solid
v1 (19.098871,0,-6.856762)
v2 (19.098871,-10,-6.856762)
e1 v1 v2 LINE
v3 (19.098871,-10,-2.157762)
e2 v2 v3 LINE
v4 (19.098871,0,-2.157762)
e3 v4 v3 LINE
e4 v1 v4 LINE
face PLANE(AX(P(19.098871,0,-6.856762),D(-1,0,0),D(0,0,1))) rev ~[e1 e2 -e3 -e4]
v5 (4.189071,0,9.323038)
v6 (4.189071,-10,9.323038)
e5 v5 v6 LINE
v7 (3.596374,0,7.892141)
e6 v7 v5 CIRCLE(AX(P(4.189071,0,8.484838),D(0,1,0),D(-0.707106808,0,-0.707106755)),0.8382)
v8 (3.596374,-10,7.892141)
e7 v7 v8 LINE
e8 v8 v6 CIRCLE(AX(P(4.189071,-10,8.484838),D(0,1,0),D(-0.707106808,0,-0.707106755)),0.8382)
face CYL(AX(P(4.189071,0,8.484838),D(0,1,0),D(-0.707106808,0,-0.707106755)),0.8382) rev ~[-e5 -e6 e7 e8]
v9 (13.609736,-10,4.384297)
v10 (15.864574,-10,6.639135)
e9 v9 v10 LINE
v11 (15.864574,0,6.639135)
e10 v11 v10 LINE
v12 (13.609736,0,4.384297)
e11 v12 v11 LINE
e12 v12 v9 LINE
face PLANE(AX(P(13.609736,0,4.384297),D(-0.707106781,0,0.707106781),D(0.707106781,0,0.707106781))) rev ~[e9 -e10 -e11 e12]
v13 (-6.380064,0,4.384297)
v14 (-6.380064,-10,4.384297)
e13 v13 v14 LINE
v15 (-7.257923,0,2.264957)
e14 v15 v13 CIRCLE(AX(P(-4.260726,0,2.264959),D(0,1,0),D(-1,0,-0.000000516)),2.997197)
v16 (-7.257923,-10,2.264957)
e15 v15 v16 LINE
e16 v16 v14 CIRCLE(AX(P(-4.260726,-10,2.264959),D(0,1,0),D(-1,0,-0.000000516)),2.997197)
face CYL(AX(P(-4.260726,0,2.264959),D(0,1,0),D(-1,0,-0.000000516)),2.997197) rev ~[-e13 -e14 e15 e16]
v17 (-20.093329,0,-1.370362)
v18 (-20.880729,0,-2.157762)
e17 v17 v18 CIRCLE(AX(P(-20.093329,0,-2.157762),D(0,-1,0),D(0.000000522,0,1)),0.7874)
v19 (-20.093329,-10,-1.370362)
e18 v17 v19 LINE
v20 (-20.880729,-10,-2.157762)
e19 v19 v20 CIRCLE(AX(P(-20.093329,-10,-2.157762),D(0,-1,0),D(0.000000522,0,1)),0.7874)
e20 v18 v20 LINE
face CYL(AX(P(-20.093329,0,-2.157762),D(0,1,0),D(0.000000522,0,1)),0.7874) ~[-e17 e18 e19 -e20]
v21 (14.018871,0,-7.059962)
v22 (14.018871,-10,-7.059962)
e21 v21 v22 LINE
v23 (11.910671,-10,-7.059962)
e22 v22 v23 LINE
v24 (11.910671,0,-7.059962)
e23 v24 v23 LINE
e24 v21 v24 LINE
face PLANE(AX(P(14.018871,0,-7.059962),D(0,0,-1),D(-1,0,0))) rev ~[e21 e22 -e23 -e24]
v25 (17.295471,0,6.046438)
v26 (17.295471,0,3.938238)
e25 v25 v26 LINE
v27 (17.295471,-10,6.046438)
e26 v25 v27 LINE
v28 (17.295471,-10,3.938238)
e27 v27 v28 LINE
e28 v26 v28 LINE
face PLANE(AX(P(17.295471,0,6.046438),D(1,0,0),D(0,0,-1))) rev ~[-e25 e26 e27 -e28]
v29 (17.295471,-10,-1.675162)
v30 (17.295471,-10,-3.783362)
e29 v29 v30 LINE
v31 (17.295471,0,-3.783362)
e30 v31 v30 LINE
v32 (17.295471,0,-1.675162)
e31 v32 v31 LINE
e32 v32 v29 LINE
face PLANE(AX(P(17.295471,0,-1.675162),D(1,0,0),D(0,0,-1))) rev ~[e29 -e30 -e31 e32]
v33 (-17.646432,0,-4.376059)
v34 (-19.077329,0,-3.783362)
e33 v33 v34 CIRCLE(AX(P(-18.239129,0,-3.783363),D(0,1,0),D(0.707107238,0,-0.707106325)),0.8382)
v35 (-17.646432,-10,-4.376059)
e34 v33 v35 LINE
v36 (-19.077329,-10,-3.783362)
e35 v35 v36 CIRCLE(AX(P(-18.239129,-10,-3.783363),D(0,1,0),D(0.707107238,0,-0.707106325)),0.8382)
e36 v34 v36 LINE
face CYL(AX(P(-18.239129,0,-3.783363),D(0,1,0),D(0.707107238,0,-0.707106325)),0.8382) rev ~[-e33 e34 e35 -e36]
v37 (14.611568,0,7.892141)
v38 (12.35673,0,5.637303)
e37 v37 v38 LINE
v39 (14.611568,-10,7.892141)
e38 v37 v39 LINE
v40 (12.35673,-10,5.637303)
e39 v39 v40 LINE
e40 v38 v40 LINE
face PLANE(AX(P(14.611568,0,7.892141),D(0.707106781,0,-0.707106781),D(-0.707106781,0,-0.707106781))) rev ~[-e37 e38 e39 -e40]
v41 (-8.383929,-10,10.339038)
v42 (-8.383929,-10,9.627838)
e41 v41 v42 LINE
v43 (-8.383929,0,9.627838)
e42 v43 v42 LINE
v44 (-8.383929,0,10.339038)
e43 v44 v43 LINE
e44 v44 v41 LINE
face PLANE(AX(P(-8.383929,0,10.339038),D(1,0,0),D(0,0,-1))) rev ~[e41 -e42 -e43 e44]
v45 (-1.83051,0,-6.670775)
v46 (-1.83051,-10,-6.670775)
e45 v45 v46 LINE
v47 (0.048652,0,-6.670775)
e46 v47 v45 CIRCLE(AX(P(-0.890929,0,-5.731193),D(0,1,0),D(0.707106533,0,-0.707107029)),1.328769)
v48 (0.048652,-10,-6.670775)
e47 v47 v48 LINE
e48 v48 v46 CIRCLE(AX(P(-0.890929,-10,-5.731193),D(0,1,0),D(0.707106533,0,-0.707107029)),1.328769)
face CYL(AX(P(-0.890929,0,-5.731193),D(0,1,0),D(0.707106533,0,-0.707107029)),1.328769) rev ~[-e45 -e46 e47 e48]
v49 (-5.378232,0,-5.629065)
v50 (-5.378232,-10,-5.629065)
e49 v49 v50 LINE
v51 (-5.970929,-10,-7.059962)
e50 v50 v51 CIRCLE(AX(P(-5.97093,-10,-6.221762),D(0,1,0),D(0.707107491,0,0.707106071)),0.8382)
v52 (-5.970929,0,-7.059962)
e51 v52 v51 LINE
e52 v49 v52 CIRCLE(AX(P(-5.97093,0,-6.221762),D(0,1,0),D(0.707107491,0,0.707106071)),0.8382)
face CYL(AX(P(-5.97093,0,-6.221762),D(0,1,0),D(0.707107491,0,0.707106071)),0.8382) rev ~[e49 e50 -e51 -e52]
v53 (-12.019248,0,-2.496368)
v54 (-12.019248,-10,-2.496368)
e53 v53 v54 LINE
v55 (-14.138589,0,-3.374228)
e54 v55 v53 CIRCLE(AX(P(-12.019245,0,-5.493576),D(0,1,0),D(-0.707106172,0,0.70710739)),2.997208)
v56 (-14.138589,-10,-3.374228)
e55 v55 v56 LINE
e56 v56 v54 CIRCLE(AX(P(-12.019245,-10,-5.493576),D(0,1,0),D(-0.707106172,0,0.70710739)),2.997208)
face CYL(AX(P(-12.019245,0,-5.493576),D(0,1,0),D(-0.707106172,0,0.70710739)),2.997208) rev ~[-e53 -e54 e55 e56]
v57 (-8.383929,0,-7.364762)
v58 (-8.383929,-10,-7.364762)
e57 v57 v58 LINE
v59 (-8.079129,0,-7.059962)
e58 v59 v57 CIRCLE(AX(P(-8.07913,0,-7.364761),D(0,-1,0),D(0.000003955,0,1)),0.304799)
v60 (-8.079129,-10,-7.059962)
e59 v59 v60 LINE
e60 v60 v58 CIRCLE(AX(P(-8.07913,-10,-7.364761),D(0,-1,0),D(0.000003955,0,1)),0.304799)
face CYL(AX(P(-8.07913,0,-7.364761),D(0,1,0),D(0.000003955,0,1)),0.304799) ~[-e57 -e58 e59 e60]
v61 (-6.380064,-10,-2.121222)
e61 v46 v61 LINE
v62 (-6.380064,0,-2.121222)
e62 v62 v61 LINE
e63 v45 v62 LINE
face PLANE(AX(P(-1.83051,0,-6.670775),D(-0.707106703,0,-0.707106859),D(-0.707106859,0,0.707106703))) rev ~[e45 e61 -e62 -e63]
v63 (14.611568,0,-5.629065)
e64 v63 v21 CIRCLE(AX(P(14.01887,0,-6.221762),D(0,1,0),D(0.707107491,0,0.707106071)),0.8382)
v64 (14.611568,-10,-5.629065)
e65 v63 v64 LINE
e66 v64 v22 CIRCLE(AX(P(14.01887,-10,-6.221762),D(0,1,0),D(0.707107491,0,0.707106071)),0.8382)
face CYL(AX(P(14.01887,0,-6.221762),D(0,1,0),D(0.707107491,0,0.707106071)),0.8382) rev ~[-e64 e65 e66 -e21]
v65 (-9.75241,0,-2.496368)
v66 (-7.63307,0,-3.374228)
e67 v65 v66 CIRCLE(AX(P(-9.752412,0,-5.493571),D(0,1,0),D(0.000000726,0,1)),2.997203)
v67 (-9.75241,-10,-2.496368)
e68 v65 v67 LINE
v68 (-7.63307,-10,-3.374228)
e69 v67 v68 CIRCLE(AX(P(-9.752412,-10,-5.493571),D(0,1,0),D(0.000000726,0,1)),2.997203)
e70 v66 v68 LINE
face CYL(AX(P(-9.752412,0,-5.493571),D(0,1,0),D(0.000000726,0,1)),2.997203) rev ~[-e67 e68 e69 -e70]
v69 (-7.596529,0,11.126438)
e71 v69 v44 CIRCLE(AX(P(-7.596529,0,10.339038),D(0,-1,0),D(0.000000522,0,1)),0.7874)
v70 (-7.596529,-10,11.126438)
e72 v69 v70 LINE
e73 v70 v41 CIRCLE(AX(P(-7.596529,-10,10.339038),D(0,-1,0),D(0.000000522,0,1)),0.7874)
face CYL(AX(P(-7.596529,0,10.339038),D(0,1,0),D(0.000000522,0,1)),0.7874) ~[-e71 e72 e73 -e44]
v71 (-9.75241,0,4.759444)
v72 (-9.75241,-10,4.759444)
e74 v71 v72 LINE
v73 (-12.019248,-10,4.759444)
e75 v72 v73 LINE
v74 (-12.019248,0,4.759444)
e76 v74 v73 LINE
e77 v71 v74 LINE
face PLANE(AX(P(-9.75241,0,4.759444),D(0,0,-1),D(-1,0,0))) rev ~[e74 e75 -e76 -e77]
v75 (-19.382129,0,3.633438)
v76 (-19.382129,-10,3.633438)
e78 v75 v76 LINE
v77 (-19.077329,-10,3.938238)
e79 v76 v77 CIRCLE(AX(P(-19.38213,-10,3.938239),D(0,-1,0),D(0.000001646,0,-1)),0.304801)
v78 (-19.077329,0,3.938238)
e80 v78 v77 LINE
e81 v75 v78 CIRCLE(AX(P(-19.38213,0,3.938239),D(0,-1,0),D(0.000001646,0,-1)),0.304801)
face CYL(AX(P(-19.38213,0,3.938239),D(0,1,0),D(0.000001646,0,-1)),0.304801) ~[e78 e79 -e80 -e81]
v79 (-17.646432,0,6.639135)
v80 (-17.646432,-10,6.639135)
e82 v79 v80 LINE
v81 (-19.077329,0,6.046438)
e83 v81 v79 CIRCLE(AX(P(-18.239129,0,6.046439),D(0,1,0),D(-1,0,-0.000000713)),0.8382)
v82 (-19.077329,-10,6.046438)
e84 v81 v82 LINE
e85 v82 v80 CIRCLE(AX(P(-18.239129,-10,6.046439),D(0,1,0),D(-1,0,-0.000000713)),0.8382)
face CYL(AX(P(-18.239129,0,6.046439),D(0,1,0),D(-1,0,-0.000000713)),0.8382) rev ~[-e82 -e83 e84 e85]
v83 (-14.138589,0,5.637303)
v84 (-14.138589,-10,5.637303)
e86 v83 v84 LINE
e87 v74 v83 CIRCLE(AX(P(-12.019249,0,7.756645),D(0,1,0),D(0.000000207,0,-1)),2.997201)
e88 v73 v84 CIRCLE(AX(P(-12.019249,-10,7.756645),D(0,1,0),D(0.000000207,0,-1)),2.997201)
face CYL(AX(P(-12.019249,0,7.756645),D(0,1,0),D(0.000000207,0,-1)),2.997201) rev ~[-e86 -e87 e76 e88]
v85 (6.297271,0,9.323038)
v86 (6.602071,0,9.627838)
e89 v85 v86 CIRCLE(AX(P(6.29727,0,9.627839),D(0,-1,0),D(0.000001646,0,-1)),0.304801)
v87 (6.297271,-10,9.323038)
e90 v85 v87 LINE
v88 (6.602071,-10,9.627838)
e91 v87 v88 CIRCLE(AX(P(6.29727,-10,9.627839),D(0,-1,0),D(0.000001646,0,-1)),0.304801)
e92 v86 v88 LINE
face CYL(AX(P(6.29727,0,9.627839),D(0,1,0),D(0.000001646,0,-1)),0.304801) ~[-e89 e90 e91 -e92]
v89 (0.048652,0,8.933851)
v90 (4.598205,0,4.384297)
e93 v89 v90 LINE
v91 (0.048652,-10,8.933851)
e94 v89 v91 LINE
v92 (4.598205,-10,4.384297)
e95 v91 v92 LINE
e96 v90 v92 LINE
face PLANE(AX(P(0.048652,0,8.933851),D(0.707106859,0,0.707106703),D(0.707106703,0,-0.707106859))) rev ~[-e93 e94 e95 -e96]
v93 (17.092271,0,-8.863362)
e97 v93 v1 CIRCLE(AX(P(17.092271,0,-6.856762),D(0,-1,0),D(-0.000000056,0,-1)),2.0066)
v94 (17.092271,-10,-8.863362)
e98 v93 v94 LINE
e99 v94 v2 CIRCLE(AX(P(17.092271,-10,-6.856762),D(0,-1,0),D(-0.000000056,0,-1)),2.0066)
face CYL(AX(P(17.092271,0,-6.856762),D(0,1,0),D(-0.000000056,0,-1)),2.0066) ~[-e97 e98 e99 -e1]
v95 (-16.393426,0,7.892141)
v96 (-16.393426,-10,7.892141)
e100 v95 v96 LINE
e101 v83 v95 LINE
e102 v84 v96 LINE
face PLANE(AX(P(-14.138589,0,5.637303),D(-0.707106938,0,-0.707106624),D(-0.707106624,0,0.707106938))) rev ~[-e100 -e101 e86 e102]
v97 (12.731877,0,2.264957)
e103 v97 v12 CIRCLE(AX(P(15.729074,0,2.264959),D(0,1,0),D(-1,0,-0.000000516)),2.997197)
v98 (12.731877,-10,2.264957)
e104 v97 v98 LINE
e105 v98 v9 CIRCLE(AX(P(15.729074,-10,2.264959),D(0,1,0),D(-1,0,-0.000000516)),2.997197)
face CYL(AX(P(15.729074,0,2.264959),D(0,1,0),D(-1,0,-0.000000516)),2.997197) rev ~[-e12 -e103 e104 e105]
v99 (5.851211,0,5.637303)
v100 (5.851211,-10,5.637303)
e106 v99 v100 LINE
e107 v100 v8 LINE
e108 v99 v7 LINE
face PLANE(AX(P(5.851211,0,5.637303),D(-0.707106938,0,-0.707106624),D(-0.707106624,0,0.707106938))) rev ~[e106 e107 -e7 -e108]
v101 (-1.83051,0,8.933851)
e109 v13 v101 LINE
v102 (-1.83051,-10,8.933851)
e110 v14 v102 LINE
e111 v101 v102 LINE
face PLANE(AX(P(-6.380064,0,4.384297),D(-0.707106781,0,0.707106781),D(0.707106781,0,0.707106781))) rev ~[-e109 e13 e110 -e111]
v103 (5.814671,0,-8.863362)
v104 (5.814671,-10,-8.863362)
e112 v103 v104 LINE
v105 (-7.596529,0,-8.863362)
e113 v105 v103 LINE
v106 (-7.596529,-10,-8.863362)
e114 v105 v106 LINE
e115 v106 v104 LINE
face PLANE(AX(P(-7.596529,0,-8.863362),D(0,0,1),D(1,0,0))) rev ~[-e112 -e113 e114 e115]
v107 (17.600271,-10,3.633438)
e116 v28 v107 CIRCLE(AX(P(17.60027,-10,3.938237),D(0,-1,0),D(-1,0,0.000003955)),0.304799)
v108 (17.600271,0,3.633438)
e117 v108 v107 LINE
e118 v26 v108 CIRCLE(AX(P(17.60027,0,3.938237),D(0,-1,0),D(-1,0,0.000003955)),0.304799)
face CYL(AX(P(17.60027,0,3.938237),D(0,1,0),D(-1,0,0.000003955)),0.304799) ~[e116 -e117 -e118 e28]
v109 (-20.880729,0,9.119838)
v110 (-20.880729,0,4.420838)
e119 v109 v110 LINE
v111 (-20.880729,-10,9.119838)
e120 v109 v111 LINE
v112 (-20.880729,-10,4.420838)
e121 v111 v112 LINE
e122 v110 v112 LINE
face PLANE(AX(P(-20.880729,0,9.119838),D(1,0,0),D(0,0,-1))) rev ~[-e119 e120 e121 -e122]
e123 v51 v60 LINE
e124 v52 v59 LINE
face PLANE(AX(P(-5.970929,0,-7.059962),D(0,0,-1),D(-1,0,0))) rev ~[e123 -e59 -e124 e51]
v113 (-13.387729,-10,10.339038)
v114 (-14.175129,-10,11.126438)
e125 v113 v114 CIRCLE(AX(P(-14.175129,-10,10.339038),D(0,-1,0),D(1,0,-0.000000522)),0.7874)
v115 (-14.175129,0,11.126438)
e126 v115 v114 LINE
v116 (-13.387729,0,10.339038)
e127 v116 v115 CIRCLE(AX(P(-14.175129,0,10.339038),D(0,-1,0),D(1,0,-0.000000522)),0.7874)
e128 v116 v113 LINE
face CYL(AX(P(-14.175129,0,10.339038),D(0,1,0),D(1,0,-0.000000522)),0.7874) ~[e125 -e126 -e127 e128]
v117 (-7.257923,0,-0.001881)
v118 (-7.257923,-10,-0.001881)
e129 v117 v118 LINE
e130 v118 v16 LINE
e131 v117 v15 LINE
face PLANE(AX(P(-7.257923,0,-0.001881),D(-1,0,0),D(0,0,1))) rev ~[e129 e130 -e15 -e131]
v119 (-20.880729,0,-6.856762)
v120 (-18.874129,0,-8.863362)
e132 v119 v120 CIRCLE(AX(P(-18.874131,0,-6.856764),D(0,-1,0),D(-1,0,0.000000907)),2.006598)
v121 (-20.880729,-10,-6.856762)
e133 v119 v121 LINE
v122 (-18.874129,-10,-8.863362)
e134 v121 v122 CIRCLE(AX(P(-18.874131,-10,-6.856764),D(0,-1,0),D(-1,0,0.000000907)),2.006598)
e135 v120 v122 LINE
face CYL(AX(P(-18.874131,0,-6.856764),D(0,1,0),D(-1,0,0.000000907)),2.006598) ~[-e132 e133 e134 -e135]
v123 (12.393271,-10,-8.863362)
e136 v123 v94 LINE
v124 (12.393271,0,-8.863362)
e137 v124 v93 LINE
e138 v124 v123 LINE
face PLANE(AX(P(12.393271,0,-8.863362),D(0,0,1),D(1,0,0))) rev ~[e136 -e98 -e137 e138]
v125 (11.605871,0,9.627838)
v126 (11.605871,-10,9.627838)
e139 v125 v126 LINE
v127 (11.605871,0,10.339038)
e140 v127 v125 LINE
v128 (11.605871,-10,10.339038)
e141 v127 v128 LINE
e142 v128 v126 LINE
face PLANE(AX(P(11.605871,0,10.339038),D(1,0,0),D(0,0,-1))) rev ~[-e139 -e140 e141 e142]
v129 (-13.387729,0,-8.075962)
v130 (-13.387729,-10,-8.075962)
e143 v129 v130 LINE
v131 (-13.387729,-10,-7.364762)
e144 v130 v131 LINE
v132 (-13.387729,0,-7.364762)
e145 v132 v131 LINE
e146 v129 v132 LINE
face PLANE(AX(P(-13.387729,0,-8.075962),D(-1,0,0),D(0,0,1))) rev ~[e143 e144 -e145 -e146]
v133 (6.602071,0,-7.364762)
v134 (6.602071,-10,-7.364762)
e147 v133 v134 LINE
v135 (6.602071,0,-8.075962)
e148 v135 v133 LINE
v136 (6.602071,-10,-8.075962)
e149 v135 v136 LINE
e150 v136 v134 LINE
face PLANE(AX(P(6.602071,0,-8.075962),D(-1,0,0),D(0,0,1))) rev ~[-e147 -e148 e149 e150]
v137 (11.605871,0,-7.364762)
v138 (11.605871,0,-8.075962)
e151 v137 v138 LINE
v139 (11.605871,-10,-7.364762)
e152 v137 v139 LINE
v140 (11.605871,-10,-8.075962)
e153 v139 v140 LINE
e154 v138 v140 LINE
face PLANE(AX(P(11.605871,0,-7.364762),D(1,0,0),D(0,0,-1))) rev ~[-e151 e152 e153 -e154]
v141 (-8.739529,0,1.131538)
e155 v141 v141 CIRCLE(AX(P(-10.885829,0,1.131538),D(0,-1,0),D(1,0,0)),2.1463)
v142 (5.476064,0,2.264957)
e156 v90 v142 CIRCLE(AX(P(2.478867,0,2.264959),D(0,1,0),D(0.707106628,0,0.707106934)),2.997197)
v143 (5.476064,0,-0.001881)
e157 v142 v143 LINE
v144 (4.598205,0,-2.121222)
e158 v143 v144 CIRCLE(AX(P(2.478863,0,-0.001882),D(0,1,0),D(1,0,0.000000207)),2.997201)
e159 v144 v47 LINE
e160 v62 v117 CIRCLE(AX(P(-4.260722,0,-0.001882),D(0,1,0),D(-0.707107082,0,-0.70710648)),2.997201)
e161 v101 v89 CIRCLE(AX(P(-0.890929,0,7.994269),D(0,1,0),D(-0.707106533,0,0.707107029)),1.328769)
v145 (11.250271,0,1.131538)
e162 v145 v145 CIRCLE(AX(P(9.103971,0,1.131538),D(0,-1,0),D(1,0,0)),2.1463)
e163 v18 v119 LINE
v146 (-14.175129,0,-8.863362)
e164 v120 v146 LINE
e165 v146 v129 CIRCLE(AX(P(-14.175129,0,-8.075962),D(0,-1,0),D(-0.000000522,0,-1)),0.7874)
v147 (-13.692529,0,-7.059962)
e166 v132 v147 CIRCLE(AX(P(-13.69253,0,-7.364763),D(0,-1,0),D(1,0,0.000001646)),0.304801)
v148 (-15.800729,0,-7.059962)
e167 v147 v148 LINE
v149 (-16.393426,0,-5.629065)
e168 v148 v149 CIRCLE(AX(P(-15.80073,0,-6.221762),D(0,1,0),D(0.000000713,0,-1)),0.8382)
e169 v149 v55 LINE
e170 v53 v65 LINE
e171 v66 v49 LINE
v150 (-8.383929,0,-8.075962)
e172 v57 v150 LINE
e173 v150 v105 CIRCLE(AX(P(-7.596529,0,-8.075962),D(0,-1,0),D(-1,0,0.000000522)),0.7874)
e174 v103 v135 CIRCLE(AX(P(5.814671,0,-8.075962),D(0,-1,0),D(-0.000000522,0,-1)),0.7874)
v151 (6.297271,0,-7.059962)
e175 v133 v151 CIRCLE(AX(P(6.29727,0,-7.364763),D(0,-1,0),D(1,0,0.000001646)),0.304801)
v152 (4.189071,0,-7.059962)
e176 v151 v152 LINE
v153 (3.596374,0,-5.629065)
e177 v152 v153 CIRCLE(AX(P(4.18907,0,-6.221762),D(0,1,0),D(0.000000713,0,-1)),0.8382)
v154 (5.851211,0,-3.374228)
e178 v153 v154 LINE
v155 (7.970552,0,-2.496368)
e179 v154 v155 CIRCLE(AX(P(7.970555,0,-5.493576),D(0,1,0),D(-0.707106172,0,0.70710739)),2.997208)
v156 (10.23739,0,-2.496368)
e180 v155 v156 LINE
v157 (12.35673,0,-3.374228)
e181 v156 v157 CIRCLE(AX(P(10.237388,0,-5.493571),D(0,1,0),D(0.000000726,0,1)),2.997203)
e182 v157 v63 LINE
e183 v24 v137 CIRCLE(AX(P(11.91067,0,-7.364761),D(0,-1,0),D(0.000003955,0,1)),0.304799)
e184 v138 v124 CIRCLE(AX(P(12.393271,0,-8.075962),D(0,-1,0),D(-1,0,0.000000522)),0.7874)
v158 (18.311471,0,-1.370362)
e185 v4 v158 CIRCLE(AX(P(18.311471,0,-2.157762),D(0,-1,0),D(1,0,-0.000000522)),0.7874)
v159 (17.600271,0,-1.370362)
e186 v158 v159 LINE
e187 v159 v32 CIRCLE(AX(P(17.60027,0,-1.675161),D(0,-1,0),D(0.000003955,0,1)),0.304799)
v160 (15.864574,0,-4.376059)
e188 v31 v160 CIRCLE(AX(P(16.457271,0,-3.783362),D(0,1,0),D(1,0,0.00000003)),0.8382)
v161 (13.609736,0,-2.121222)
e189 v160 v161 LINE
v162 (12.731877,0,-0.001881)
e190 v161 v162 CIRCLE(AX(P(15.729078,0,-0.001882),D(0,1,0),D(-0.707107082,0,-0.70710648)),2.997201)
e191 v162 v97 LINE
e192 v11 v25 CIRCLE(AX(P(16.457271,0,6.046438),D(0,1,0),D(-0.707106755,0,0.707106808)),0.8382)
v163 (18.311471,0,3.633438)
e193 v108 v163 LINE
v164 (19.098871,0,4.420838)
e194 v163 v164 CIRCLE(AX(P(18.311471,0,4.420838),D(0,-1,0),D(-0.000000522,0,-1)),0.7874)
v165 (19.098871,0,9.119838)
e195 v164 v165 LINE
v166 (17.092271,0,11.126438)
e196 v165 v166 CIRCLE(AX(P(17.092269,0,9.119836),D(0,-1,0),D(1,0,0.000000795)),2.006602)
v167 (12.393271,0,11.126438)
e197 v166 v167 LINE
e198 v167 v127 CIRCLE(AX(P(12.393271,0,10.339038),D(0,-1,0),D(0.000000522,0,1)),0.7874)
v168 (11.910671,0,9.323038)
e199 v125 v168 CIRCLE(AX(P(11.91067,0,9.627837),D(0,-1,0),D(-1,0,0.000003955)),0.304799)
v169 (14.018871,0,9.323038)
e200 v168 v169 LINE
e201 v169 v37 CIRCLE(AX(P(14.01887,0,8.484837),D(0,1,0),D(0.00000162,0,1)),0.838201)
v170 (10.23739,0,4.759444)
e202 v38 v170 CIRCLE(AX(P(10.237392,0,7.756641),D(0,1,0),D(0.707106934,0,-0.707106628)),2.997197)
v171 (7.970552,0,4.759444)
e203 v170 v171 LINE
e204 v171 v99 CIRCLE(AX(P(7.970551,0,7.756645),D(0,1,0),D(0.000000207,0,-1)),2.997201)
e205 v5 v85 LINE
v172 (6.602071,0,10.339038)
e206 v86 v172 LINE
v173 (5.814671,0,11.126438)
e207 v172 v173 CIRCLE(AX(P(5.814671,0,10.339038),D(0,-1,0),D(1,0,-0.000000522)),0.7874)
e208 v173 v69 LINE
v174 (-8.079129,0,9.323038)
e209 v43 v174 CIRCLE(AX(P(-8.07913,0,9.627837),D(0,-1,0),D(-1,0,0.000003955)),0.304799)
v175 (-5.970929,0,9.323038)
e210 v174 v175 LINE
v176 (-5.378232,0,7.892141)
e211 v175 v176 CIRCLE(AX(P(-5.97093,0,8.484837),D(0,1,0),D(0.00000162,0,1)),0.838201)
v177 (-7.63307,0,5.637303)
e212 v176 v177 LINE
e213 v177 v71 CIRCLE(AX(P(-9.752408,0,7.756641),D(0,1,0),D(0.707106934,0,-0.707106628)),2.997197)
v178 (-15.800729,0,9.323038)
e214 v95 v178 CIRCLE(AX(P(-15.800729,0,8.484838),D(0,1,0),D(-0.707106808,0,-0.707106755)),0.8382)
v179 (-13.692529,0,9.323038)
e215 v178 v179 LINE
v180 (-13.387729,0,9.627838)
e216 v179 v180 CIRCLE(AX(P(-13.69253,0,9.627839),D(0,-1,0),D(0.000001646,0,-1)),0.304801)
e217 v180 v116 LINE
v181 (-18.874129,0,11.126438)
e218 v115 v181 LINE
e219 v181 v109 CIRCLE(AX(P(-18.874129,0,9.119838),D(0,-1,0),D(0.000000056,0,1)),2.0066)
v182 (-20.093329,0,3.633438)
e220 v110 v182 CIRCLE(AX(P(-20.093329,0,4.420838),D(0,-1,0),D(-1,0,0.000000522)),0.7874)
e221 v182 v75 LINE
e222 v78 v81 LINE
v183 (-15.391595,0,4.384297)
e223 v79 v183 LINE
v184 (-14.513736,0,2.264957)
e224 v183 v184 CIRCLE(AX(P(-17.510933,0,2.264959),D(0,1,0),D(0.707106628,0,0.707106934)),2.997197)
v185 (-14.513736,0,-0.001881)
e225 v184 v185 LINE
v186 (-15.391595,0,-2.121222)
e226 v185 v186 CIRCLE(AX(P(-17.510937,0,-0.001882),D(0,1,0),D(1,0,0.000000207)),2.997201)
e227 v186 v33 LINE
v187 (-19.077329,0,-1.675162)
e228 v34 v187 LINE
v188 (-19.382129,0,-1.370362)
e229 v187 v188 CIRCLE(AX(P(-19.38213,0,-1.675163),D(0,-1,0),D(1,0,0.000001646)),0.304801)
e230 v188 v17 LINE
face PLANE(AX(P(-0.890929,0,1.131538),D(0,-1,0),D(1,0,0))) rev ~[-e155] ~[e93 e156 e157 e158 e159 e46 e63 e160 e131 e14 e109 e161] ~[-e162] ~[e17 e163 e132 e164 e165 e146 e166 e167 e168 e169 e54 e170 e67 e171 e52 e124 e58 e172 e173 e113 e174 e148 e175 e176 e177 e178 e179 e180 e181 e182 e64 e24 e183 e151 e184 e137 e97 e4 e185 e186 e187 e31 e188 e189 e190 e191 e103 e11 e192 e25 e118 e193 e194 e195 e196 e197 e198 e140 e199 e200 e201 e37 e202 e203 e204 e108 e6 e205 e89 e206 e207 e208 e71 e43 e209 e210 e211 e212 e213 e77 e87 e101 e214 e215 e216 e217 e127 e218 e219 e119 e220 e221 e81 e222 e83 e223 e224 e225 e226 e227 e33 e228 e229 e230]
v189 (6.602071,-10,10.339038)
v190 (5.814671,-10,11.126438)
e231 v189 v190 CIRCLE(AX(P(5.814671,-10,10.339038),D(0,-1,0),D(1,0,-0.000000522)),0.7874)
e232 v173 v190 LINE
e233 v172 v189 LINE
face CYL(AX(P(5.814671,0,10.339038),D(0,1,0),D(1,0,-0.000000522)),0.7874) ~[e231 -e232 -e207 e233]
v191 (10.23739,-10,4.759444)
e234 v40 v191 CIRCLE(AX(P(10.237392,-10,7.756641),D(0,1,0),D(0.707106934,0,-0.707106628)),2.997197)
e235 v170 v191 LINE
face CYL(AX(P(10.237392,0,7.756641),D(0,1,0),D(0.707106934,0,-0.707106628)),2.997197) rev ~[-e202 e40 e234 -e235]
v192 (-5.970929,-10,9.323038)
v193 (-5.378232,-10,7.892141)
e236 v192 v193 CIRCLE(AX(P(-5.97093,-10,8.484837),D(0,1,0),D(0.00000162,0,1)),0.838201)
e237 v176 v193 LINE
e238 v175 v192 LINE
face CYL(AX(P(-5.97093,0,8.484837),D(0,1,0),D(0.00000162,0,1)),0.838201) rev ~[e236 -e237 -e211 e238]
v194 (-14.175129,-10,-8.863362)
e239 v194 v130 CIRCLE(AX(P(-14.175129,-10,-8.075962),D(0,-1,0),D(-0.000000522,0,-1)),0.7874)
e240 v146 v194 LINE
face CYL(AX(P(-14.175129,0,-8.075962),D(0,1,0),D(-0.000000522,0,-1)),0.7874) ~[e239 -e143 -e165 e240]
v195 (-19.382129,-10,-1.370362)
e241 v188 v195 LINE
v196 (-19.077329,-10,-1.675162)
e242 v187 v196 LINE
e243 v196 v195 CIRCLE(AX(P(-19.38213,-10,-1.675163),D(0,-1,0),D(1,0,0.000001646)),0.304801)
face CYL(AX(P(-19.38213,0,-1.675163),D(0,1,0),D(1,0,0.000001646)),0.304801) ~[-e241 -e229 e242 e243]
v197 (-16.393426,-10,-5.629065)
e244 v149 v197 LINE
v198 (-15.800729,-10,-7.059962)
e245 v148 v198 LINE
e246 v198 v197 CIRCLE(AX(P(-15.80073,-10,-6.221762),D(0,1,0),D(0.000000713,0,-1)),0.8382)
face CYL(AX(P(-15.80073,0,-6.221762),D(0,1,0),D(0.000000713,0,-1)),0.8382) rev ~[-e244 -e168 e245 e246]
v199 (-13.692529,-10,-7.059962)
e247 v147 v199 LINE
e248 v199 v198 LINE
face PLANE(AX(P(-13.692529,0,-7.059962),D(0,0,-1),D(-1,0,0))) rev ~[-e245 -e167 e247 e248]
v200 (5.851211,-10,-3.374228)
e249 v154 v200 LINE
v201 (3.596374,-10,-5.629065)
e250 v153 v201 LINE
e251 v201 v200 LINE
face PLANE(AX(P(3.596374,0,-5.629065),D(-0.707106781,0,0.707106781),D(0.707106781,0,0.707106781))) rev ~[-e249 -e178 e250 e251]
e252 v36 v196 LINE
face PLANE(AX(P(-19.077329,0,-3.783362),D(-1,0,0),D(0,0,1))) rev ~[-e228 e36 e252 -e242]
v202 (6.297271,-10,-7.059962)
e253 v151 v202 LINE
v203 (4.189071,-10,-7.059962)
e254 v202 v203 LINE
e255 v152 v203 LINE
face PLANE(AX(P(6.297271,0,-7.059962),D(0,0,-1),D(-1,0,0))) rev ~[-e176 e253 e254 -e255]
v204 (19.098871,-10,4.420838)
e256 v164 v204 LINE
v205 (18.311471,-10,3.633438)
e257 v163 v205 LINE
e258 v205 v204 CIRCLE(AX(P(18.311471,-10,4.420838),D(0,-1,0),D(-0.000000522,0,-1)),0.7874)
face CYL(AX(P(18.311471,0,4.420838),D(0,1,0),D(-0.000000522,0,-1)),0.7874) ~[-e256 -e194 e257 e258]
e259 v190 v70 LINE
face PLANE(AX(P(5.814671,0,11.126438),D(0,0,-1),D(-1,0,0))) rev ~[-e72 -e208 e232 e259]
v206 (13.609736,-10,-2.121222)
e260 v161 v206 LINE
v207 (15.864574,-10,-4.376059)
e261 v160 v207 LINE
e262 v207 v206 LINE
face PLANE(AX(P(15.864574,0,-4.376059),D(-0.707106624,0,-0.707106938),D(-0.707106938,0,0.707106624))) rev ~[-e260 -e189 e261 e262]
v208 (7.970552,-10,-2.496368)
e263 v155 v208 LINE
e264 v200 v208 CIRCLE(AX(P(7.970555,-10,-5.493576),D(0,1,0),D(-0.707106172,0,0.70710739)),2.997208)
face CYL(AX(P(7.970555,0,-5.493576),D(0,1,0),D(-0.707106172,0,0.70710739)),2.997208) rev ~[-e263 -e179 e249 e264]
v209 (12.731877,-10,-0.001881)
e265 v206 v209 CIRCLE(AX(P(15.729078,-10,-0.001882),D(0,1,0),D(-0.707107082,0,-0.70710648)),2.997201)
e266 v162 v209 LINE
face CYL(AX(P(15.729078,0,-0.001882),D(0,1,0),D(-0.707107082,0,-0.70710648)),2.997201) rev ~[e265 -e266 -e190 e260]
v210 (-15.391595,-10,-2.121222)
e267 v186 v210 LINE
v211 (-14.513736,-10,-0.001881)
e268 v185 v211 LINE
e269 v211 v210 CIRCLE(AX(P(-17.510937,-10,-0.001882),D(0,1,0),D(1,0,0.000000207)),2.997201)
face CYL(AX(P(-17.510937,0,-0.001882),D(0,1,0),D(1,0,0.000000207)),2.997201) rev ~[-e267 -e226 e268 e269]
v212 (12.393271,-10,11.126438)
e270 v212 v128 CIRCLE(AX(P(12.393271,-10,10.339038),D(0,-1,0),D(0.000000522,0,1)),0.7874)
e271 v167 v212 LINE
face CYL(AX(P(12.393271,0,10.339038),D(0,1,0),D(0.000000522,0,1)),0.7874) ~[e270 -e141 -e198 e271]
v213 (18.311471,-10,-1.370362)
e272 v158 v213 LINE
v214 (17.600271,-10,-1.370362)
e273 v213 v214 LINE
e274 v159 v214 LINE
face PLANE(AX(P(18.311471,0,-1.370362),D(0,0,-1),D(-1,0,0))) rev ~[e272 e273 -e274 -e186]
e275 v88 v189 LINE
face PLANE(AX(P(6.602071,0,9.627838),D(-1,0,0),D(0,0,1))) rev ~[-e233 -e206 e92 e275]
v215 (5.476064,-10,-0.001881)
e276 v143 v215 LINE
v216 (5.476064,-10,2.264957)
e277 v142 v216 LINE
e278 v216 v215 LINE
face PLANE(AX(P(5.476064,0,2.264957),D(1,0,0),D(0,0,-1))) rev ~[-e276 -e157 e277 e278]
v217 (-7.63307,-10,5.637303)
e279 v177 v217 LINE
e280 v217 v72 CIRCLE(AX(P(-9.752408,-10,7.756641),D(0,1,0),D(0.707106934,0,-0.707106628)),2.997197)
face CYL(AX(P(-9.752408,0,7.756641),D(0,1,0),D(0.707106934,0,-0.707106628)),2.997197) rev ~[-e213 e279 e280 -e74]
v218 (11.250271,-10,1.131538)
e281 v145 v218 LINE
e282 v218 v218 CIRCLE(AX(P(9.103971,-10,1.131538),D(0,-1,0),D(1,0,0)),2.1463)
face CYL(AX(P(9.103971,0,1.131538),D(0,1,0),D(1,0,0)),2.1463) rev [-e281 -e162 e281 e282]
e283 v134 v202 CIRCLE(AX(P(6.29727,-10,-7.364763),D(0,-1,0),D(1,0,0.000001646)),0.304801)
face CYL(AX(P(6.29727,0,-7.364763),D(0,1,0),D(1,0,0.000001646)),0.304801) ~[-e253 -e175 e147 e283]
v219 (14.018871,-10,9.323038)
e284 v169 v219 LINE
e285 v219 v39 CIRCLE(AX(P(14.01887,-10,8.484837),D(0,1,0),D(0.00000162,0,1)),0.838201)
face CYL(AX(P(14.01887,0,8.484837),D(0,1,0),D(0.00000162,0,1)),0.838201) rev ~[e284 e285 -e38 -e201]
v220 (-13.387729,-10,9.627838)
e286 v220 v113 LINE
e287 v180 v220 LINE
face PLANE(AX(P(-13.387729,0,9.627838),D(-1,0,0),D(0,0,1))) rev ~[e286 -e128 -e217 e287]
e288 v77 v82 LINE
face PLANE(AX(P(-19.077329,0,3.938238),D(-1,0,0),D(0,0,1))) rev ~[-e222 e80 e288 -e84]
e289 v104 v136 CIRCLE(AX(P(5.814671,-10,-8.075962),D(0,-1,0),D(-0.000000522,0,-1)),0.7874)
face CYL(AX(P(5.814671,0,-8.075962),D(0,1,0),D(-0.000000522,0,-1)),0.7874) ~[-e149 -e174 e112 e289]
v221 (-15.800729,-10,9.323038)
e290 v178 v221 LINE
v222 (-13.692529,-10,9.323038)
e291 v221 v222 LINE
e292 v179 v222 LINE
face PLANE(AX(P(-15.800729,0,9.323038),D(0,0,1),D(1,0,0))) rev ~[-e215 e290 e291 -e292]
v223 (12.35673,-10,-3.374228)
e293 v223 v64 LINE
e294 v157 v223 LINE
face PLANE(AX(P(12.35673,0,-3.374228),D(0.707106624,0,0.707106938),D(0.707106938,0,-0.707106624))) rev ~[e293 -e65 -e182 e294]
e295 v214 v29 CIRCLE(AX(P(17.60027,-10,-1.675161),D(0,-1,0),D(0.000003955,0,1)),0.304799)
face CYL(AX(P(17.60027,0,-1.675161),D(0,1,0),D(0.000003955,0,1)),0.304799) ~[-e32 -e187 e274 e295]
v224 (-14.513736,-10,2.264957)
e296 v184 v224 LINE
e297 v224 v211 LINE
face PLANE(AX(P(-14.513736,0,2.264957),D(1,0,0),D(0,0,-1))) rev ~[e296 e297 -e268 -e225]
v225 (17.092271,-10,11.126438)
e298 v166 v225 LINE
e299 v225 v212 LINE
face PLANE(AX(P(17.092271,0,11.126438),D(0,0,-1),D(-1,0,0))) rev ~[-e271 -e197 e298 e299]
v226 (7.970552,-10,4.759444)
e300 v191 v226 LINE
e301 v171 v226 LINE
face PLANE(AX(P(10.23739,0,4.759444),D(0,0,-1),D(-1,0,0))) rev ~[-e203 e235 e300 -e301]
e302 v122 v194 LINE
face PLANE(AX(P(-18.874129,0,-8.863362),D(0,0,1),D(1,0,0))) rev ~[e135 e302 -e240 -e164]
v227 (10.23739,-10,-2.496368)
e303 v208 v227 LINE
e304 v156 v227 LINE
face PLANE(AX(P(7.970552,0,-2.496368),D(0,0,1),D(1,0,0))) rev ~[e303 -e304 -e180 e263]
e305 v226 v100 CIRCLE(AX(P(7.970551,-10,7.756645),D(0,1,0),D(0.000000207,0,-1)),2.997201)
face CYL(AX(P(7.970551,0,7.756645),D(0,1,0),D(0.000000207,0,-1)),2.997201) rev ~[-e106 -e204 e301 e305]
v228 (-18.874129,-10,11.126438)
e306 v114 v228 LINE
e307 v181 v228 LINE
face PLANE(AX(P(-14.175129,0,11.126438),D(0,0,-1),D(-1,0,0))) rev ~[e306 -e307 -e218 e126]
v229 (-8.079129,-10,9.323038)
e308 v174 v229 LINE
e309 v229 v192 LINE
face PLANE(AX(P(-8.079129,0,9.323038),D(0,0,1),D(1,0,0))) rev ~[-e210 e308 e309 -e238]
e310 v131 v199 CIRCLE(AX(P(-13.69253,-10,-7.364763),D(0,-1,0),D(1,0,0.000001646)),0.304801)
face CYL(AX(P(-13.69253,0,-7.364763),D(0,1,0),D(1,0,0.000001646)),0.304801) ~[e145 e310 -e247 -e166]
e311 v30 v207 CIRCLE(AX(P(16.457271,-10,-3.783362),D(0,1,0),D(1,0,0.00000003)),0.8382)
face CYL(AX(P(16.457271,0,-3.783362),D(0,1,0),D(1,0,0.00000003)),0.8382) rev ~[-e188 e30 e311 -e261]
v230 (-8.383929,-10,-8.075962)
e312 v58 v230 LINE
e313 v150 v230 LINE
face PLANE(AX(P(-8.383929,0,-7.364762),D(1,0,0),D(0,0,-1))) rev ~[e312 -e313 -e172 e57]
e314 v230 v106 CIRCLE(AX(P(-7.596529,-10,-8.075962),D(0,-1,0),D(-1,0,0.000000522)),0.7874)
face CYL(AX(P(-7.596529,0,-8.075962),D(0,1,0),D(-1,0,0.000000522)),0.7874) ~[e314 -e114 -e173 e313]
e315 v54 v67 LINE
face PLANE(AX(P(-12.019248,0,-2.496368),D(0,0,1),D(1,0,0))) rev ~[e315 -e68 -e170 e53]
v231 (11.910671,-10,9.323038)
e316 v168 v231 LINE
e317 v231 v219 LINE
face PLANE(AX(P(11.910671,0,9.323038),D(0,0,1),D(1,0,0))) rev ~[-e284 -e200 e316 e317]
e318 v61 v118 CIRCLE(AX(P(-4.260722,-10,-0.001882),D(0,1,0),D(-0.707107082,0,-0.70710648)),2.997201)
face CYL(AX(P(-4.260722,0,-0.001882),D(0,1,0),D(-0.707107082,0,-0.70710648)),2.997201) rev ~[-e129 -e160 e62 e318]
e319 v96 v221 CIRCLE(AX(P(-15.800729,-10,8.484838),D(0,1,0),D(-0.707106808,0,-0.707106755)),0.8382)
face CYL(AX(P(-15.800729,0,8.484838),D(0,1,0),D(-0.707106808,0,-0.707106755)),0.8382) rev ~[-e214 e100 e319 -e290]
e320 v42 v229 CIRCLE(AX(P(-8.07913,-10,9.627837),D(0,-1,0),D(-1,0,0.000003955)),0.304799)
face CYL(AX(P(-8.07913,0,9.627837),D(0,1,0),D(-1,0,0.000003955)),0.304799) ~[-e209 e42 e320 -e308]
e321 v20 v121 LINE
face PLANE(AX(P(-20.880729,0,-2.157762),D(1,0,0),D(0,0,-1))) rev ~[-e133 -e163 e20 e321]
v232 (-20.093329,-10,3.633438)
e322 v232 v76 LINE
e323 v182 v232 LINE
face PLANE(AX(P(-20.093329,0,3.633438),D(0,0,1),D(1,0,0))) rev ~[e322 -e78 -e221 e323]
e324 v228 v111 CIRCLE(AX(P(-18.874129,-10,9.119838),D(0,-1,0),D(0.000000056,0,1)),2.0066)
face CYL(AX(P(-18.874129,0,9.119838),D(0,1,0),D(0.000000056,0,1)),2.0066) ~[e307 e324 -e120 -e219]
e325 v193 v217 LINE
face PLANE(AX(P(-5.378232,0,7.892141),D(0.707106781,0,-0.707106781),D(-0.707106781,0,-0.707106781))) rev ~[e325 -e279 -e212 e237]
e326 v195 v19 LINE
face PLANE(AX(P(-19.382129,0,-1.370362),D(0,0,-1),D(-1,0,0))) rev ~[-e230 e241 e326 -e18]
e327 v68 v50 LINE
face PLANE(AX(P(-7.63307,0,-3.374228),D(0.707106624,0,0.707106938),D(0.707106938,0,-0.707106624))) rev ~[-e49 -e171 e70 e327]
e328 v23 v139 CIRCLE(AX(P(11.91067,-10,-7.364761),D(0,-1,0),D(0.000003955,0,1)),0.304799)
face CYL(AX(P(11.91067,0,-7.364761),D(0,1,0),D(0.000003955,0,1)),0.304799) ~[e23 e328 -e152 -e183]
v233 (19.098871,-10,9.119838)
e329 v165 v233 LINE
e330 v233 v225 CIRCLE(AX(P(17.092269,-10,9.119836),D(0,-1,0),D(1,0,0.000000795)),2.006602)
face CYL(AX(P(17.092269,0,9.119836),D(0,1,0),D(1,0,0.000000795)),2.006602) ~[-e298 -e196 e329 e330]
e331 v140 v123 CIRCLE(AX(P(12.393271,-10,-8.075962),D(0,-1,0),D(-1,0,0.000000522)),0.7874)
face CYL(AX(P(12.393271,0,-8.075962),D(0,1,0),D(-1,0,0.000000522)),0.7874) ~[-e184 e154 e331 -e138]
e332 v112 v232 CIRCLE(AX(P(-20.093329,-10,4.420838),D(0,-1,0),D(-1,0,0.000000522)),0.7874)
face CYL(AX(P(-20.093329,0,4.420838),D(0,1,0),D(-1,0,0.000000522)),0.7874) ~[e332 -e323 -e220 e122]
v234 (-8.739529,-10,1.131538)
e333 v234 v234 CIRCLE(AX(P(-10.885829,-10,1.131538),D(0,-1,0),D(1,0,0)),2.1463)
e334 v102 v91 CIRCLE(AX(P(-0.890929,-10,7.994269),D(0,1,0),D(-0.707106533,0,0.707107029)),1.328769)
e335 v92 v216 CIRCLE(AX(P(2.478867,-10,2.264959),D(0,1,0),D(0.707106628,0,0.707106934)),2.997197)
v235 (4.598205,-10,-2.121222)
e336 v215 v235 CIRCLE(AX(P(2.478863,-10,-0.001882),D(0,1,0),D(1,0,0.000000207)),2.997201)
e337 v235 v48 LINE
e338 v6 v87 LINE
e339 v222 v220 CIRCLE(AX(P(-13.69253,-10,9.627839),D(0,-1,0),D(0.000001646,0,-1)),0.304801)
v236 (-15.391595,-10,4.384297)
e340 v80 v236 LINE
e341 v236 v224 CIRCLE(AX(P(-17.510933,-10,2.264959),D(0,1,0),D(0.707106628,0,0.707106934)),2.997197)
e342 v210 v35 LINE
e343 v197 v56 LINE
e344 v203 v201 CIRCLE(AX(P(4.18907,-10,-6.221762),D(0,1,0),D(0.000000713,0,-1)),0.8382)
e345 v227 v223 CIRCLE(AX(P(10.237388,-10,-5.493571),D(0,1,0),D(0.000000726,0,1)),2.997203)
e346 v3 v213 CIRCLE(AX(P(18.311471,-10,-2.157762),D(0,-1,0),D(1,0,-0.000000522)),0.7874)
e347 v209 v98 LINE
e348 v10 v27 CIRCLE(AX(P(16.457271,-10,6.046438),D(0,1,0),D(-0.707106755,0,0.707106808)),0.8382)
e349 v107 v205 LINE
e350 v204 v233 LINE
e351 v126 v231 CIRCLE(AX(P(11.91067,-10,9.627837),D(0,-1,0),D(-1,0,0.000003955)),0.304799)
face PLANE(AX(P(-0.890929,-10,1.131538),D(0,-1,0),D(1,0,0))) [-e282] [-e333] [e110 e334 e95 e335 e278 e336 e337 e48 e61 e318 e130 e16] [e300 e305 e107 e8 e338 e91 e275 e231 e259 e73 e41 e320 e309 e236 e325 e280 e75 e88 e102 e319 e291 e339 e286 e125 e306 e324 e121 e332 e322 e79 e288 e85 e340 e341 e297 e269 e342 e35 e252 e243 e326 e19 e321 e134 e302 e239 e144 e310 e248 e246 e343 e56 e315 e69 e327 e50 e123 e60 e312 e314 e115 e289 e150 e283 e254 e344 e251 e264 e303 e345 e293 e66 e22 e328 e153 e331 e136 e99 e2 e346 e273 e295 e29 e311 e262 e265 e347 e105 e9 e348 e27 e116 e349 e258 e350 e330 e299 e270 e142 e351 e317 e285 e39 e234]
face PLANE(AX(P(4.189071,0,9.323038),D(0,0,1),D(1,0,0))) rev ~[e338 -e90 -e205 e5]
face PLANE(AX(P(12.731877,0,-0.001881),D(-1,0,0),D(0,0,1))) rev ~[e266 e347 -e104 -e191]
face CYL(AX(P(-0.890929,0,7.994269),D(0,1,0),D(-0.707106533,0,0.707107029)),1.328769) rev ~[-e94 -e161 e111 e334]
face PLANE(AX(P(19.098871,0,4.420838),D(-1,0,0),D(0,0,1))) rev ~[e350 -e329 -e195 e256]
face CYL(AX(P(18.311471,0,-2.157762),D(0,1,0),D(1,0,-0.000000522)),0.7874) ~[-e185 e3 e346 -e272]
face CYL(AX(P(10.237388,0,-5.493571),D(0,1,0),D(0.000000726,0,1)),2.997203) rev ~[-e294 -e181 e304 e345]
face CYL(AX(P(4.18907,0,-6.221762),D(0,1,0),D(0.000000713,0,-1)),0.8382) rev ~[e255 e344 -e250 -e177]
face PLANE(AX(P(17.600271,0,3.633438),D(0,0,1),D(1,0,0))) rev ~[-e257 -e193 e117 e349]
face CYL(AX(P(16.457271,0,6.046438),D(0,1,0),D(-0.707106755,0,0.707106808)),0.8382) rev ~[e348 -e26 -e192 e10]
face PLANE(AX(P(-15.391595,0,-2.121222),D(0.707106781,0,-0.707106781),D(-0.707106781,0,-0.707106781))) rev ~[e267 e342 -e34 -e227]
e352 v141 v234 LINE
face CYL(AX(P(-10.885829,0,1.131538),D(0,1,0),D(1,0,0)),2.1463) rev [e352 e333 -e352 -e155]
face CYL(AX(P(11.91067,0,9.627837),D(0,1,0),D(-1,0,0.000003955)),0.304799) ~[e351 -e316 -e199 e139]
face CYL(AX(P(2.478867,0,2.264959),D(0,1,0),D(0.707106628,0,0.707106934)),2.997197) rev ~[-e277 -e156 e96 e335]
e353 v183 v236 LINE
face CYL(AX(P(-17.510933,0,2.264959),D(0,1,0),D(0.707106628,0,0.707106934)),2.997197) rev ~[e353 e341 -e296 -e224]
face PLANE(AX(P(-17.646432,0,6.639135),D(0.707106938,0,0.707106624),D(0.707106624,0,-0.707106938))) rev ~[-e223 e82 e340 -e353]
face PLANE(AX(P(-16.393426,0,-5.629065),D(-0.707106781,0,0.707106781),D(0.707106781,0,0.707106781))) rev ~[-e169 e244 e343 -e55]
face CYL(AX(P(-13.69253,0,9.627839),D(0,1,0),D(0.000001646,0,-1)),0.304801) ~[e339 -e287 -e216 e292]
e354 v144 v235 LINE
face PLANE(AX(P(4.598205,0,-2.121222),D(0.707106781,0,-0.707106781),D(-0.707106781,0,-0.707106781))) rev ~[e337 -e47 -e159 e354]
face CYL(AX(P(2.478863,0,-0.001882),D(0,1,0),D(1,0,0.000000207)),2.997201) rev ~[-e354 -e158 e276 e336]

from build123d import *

# Parameters (mm, degrees)
F0_R     = 2.1463
F1_DEPTH = 10


with BuildPart() as f1:
    # F0 (on Front) → F1 (new body)
    with BuildSketch(Plane.XZ):
        with BuildLine():
            Line((-9.75241, 4.759444), (-12.019248, 4.759444))
            ThreePointArc((-12.019248, 4.759444), (-13.166227, 4.987592), (-14.138589, 5.637303))
            Line((-14.138589, 5.637303), (-16.393426, 7.892141))
            ThreePointArc((-16.393426, 7.892141), (-16.575125, 8.805603), (-15.800729, 9.323038))
            Line((-15.800729, 9.323038), (-13.692529, 9.323038))
            ThreePointArc((-13.692529, 9.323038), (-13.477003, 9.412312), (-13.387729, 9.627838))
            Line((-13.387729, 9.627838), (-13.387729, 10.339038))
            ThreePointArc((-13.387729, 10.339038), (-13.618353, 10.895814), (-14.175129, 11.126438))
            Line((-14.175129, 11.126438), (-18.874129, 11.126438))
            ThreePointArc((-18.874129, 11.126438), (-20.29301, 10.538718), (-20.880729, 9.119838))
            Line((-20.880729, 9.119838), (-20.880729, 4.420838))
            ThreePointArc((-20.880729, 4.420838), (-20.650105, 3.864062), (-20.093329, 3.633438))
            Line((-20.093329, 3.633438), (-19.382129, 3.633438))
            ThreePointArc((-19.382129, 3.633438), (-19.166603, 3.722712), (-19.077329, 3.938238))
            Line((-19.077329, 3.938238), (-19.077329, 6.046438))
            ThreePointArc((-19.077329, 6.046438), (-18.559895, 6.820834), (-17.646432, 6.639135))
            Line((-17.646432, 6.639135), (-15.391595, 4.384297))
            ThreePointArc((-15.391595, 4.384297), (-14.741884, 3.411936), (-14.513736, 2.264957))
            Line((-14.513736, 2.264957), (-14.513736, -0.001881))
            ThreePointArc((-14.513736, -0.001881), (-14.741884, -1.14886), (-15.391595, -2.121222))
            Line((-15.391595, -2.121222), (-17.646432, -4.376059))
            ThreePointArc((-17.646432, -4.376059), (-18.559895, -4.557758), (-19.077329, -3.783362))
            Line((-19.077329, -3.783362), (-19.077329, -1.675162))
            ThreePointArc((-19.077329, -1.675162), (-19.166603, -1.459636), (-19.382129, -1.370362))
            Line((-19.382129, -1.370362), (-20.093329, -1.370362))
            ThreePointArc((-20.093329, -1.370362), (-20.650105, -1.600986), (-20.880729, -2.157762))
            Line((-20.880729, -2.157762), (-20.880729, -6.856762))
            ThreePointArc((-20.880729, -6.856762), (-20.29301, -8.275643), (-18.874129, -8.863362))
            Line((-18.874129, -8.863362), (-14.175129, -8.863362))
            ThreePointArc((-14.175129, -8.863362), (-13.618353, -8.632738), (-13.387729, -8.075962))
            Line((-13.387729, -8.075962), (-13.387729, -7.364762))
            ThreePointArc((-13.387729, -7.364762), (-13.477003, -7.149236), (-13.692529, -7.059962))
            Line((-13.692529, -7.059962), (-15.800729, -7.059962))
            ThreePointArc((-15.800729, -7.059962), (-16.575125, -6.542528), (-16.393426, -5.629065))
            Line((-16.393426, -5.629065), (-14.138589, -3.374228))
            ThreePointArc((-14.138589, -3.374228), (-13.166227, -2.724517), (-12.019248, -2.496368))
            Line((-12.019248, -2.496368), (-9.75241, -2.496368))
            ThreePointArc((-9.75241, -2.496368), (-8.605431, -2.724517), (-7.63307, -3.374228))
            Line((-7.63307, -3.374228), (-5.378232, -5.629065))
            ThreePointArc((-5.378232, -5.629065), (-5.196534, -6.542528), (-5.970929, -7.059962))
            Line((-5.970929, -7.059962), (-8.079129, -7.059962))
            ThreePointArc((-8.079129, -7.059962), (-8.294656, -7.149236), (-8.383929, -7.364762))
            Line((-8.383929, -7.364762), (-8.383929, -8.075962))
            ThreePointArc((-8.383929, -8.075962), (-8.153305, -8.632738), (-7.596529, -8.863362))
            Line((-7.596529, -8.863362), (5.814671, -8.863362))
            ThreePointArc((5.814671, -8.863362), (6.371447, -8.632738), (6.602071, -8.075962))
            Line((6.602071, -8.075962), (6.602071, -7.364762))
            ThreePointArc((6.602071, -7.364762), (6.512797, -7.149236), (6.297271, -7.059962))
            Line((6.297271, -7.059962), (4.189071, -7.059962))
            ThreePointArc((4.189071, -7.059962), (3.414675, -6.542528), (3.596374, -5.629065))
            Line((3.596374, -5.629065), (5.851211, -3.374228))
            ThreePointArc((5.851211, -3.374228), (6.823573, -2.724517), (7.970552, -2.496368))
            Line((7.970552, -2.496368), (10.23739, -2.496368))
            ThreePointArc((10.23739, -2.496368), (11.384369, -2.724517), (12.35673, -3.374228))
            Line((12.35673, -3.374228), (14.611568, -5.629065))
            ThreePointArc((14.611568, -5.629065), (14.793266, -6.542528), (14.018871, -7.059962))
            Line((14.018871, -7.059962), (11.910671, -7.059962))
            ThreePointArc((11.910671, -7.059962), (11.695144, -7.149236), (11.605871, -7.364762))
            Line((11.605871, -7.364762), (11.605871, -8.075962))
            ThreePointArc((11.605871, -8.075962), (11.836495, -8.632738), (12.393271, -8.863362))
            Line((12.393271, -8.863362), (17.092271, -8.863362))
            ThreePointArc((17.092271, -8.863362), (18.511151, -8.275643), (19.098871, -6.856762))
            Line((19.098871, -6.856762), (19.098871, -2.157762))
            ThreePointArc((19.098871, -2.157762), (18.868247, -1.600986), (18.311471, -1.370362))
            Line((18.311471, -1.370362), (17.600271, -1.370362))
            ThreePointArc((17.600271, -1.370362), (17.384744, -1.459636), (17.295471, -1.675162))
            Line((17.295471, -1.675162), (17.295471, -3.783362))
            ThreePointArc((17.295471, -3.783362), (16.778036, -4.557758), (15.864574, -4.376059))
            Line((15.864574, -4.376059), (13.609736, -2.121222))
            ThreePointArc((13.609736, -2.121222), (12.960025, -1.14886), (12.731877, -0.001881))
            Line((12.731877, -0.001881), (12.731877, 2.264957))
            ThreePointArc((12.731877, 2.264957), (12.960025, 3.411936), (13.609736, 4.384297))
            Line((13.609736, 4.384297), (15.864574, 6.639135))
            ThreePointArc((15.864574, 6.639135), (16.778036, 6.820834), (17.295471, 6.046438))
            Line((17.295471, 6.046438), (17.295471, 3.938238))
            ThreePointArc((17.295471, 3.938238), (17.384744, 3.722712), (17.600271, 3.633438))
            Line((17.600271, 3.633438), (18.311471, 3.633438))
            ThreePointArc((18.311471, 3.633438), (18.868247, 3.864062), (19.098871, 4.420838))
            Line((19.098871, 4.420838), (19.098871, 9.119838))
            ThreePointArc((19.098871, 9.119838), (18.511151, 10.538718), (17.092271, 11.126438))
            Line((17.092271, 11.126438), (12.393271, 11.126438))
            ThreePointArc((12.393271, 11.126438), (11.836495, 10.895814), (11.605871, 10.339038))
            Line((11.605871, 10.339038), (11.605871, 9.627838))
            ThreePointArc((11.605871, 9.627838), (11.695144, 9.412312), (11.910671, 9.323038))
            Line((11.910671, 9.323038), (14.018871, 9.323038))
            ThreePointArc((14.018871, 9.323038), (14.793266, 8.805603), (14.611568, 7.892141))
            Line((14.611568, 7.892141), (12.35673, 5.637303))
            ThreePointArc((12.35673, 5.637303), (11.384369, 4.987592), (10.23739, 4.759444))
            Line((10.23739, 4.759444), (7.970552, 4.759444))
            ThreePointArc((7.970552, 4.759444), (6.823573, 4.987592), (5.851211, 5.637303))
            Line((5.851211, 5.637303), (3.596374, 7.892141))
            ThreePointArc((3.596374, 7.892141), (3.414675, 8.805603), (4.189071, 9.323038))
            Line((4.189071, 9.323038), (6.297271, 9.323038))
            ThreePointArc((6.297271, 9.323038), (6.512797, 9.412312), (6.602071, 9.627838))
            Line((6.602071, 9.627838), (6.602071, 10.339038))
            ThreePointArc((6.602071, 10.339038), (6.371447, 10.895814), (5.814671, 11.126438))
            Line((5.814671, 11.126438), (-7.596529, 11.126438))
            ThreePointArc((-7.596529, 11.126438), (-8.153305, 10.895814), (-8.383929, 10.339038))
            Line((-8.383929, 10.339038), (-8.383929, 9.627838))
            ThreePointArc((-8.383929, 9.627838), (-8.294656, 9.412312), (-8.079129, 9.323038))
            Line((-8.079129, 9.323038), (-5.970929, 9.323038))
            ThreePointArc((-5.970929, 9.323038), (-5.196534, 8.805603), (-5.378232, 7.892141))
            Line((-5.378232, 7.892141), (-7.63307, 5.637303))
            ThreePointArc((-7.63307, 5.637303), (-8.605431, 4.987592), (-9.75241, 4.759444))
        make_face()
        with Locations((-10.885829, 1.131538)):
            Circle(F0_R, mode=Mode.SUBTRACT)
        with BuildLine():
            Line((-7.257923, -0.001881), (-7.257923, 2.264957))
            ThreePointArc((-7.257923, 2.264957), (-7.029775, 3.411936), (-6.380064, 4.384297))
            Line((-6.380064, 4.384297), (-1.83051, 8.933851))
            ThreePointArc((-1.83051, 8.933851), (-0.890929, 9.323038), (0.048652, 8.933851))
            Line((0.048652, 8.933851), (4.598205, 4.384297))
            ThreePointArc((4.598205, 4.384297), (5.247916, 3.411936), (5.476064, 2.264957))
            Line((5.476064, 2.264957), (5.476064, -0.001881))
            ThreePointArc((5.476064, -0.001881), (5.247916, -1.14886), (4.598205, -2.121222))
            Line((4.598205, -2.121222), (0.048652, -6.670775))
            ThreePointArc((0.048652, -6.670775), (-0.890929, -7.059962), (-1.83051, -6.670775))
            Line((-1.83051, -6.670775), (-6.380064, -2.121222))
            ThreePointArc((-6.380064, -2.121222), (-7.029775, -1.14886), (-7.257923, -0.001881))
        make_face(mode=Mode.SUBTRACT)
        with Locations((9.103971, 1.131538)):
            Circle(F0_R, mode=Mode.SUBTRACT)
    extrude(amount=F1_DEPTH)


solid = f1.part
